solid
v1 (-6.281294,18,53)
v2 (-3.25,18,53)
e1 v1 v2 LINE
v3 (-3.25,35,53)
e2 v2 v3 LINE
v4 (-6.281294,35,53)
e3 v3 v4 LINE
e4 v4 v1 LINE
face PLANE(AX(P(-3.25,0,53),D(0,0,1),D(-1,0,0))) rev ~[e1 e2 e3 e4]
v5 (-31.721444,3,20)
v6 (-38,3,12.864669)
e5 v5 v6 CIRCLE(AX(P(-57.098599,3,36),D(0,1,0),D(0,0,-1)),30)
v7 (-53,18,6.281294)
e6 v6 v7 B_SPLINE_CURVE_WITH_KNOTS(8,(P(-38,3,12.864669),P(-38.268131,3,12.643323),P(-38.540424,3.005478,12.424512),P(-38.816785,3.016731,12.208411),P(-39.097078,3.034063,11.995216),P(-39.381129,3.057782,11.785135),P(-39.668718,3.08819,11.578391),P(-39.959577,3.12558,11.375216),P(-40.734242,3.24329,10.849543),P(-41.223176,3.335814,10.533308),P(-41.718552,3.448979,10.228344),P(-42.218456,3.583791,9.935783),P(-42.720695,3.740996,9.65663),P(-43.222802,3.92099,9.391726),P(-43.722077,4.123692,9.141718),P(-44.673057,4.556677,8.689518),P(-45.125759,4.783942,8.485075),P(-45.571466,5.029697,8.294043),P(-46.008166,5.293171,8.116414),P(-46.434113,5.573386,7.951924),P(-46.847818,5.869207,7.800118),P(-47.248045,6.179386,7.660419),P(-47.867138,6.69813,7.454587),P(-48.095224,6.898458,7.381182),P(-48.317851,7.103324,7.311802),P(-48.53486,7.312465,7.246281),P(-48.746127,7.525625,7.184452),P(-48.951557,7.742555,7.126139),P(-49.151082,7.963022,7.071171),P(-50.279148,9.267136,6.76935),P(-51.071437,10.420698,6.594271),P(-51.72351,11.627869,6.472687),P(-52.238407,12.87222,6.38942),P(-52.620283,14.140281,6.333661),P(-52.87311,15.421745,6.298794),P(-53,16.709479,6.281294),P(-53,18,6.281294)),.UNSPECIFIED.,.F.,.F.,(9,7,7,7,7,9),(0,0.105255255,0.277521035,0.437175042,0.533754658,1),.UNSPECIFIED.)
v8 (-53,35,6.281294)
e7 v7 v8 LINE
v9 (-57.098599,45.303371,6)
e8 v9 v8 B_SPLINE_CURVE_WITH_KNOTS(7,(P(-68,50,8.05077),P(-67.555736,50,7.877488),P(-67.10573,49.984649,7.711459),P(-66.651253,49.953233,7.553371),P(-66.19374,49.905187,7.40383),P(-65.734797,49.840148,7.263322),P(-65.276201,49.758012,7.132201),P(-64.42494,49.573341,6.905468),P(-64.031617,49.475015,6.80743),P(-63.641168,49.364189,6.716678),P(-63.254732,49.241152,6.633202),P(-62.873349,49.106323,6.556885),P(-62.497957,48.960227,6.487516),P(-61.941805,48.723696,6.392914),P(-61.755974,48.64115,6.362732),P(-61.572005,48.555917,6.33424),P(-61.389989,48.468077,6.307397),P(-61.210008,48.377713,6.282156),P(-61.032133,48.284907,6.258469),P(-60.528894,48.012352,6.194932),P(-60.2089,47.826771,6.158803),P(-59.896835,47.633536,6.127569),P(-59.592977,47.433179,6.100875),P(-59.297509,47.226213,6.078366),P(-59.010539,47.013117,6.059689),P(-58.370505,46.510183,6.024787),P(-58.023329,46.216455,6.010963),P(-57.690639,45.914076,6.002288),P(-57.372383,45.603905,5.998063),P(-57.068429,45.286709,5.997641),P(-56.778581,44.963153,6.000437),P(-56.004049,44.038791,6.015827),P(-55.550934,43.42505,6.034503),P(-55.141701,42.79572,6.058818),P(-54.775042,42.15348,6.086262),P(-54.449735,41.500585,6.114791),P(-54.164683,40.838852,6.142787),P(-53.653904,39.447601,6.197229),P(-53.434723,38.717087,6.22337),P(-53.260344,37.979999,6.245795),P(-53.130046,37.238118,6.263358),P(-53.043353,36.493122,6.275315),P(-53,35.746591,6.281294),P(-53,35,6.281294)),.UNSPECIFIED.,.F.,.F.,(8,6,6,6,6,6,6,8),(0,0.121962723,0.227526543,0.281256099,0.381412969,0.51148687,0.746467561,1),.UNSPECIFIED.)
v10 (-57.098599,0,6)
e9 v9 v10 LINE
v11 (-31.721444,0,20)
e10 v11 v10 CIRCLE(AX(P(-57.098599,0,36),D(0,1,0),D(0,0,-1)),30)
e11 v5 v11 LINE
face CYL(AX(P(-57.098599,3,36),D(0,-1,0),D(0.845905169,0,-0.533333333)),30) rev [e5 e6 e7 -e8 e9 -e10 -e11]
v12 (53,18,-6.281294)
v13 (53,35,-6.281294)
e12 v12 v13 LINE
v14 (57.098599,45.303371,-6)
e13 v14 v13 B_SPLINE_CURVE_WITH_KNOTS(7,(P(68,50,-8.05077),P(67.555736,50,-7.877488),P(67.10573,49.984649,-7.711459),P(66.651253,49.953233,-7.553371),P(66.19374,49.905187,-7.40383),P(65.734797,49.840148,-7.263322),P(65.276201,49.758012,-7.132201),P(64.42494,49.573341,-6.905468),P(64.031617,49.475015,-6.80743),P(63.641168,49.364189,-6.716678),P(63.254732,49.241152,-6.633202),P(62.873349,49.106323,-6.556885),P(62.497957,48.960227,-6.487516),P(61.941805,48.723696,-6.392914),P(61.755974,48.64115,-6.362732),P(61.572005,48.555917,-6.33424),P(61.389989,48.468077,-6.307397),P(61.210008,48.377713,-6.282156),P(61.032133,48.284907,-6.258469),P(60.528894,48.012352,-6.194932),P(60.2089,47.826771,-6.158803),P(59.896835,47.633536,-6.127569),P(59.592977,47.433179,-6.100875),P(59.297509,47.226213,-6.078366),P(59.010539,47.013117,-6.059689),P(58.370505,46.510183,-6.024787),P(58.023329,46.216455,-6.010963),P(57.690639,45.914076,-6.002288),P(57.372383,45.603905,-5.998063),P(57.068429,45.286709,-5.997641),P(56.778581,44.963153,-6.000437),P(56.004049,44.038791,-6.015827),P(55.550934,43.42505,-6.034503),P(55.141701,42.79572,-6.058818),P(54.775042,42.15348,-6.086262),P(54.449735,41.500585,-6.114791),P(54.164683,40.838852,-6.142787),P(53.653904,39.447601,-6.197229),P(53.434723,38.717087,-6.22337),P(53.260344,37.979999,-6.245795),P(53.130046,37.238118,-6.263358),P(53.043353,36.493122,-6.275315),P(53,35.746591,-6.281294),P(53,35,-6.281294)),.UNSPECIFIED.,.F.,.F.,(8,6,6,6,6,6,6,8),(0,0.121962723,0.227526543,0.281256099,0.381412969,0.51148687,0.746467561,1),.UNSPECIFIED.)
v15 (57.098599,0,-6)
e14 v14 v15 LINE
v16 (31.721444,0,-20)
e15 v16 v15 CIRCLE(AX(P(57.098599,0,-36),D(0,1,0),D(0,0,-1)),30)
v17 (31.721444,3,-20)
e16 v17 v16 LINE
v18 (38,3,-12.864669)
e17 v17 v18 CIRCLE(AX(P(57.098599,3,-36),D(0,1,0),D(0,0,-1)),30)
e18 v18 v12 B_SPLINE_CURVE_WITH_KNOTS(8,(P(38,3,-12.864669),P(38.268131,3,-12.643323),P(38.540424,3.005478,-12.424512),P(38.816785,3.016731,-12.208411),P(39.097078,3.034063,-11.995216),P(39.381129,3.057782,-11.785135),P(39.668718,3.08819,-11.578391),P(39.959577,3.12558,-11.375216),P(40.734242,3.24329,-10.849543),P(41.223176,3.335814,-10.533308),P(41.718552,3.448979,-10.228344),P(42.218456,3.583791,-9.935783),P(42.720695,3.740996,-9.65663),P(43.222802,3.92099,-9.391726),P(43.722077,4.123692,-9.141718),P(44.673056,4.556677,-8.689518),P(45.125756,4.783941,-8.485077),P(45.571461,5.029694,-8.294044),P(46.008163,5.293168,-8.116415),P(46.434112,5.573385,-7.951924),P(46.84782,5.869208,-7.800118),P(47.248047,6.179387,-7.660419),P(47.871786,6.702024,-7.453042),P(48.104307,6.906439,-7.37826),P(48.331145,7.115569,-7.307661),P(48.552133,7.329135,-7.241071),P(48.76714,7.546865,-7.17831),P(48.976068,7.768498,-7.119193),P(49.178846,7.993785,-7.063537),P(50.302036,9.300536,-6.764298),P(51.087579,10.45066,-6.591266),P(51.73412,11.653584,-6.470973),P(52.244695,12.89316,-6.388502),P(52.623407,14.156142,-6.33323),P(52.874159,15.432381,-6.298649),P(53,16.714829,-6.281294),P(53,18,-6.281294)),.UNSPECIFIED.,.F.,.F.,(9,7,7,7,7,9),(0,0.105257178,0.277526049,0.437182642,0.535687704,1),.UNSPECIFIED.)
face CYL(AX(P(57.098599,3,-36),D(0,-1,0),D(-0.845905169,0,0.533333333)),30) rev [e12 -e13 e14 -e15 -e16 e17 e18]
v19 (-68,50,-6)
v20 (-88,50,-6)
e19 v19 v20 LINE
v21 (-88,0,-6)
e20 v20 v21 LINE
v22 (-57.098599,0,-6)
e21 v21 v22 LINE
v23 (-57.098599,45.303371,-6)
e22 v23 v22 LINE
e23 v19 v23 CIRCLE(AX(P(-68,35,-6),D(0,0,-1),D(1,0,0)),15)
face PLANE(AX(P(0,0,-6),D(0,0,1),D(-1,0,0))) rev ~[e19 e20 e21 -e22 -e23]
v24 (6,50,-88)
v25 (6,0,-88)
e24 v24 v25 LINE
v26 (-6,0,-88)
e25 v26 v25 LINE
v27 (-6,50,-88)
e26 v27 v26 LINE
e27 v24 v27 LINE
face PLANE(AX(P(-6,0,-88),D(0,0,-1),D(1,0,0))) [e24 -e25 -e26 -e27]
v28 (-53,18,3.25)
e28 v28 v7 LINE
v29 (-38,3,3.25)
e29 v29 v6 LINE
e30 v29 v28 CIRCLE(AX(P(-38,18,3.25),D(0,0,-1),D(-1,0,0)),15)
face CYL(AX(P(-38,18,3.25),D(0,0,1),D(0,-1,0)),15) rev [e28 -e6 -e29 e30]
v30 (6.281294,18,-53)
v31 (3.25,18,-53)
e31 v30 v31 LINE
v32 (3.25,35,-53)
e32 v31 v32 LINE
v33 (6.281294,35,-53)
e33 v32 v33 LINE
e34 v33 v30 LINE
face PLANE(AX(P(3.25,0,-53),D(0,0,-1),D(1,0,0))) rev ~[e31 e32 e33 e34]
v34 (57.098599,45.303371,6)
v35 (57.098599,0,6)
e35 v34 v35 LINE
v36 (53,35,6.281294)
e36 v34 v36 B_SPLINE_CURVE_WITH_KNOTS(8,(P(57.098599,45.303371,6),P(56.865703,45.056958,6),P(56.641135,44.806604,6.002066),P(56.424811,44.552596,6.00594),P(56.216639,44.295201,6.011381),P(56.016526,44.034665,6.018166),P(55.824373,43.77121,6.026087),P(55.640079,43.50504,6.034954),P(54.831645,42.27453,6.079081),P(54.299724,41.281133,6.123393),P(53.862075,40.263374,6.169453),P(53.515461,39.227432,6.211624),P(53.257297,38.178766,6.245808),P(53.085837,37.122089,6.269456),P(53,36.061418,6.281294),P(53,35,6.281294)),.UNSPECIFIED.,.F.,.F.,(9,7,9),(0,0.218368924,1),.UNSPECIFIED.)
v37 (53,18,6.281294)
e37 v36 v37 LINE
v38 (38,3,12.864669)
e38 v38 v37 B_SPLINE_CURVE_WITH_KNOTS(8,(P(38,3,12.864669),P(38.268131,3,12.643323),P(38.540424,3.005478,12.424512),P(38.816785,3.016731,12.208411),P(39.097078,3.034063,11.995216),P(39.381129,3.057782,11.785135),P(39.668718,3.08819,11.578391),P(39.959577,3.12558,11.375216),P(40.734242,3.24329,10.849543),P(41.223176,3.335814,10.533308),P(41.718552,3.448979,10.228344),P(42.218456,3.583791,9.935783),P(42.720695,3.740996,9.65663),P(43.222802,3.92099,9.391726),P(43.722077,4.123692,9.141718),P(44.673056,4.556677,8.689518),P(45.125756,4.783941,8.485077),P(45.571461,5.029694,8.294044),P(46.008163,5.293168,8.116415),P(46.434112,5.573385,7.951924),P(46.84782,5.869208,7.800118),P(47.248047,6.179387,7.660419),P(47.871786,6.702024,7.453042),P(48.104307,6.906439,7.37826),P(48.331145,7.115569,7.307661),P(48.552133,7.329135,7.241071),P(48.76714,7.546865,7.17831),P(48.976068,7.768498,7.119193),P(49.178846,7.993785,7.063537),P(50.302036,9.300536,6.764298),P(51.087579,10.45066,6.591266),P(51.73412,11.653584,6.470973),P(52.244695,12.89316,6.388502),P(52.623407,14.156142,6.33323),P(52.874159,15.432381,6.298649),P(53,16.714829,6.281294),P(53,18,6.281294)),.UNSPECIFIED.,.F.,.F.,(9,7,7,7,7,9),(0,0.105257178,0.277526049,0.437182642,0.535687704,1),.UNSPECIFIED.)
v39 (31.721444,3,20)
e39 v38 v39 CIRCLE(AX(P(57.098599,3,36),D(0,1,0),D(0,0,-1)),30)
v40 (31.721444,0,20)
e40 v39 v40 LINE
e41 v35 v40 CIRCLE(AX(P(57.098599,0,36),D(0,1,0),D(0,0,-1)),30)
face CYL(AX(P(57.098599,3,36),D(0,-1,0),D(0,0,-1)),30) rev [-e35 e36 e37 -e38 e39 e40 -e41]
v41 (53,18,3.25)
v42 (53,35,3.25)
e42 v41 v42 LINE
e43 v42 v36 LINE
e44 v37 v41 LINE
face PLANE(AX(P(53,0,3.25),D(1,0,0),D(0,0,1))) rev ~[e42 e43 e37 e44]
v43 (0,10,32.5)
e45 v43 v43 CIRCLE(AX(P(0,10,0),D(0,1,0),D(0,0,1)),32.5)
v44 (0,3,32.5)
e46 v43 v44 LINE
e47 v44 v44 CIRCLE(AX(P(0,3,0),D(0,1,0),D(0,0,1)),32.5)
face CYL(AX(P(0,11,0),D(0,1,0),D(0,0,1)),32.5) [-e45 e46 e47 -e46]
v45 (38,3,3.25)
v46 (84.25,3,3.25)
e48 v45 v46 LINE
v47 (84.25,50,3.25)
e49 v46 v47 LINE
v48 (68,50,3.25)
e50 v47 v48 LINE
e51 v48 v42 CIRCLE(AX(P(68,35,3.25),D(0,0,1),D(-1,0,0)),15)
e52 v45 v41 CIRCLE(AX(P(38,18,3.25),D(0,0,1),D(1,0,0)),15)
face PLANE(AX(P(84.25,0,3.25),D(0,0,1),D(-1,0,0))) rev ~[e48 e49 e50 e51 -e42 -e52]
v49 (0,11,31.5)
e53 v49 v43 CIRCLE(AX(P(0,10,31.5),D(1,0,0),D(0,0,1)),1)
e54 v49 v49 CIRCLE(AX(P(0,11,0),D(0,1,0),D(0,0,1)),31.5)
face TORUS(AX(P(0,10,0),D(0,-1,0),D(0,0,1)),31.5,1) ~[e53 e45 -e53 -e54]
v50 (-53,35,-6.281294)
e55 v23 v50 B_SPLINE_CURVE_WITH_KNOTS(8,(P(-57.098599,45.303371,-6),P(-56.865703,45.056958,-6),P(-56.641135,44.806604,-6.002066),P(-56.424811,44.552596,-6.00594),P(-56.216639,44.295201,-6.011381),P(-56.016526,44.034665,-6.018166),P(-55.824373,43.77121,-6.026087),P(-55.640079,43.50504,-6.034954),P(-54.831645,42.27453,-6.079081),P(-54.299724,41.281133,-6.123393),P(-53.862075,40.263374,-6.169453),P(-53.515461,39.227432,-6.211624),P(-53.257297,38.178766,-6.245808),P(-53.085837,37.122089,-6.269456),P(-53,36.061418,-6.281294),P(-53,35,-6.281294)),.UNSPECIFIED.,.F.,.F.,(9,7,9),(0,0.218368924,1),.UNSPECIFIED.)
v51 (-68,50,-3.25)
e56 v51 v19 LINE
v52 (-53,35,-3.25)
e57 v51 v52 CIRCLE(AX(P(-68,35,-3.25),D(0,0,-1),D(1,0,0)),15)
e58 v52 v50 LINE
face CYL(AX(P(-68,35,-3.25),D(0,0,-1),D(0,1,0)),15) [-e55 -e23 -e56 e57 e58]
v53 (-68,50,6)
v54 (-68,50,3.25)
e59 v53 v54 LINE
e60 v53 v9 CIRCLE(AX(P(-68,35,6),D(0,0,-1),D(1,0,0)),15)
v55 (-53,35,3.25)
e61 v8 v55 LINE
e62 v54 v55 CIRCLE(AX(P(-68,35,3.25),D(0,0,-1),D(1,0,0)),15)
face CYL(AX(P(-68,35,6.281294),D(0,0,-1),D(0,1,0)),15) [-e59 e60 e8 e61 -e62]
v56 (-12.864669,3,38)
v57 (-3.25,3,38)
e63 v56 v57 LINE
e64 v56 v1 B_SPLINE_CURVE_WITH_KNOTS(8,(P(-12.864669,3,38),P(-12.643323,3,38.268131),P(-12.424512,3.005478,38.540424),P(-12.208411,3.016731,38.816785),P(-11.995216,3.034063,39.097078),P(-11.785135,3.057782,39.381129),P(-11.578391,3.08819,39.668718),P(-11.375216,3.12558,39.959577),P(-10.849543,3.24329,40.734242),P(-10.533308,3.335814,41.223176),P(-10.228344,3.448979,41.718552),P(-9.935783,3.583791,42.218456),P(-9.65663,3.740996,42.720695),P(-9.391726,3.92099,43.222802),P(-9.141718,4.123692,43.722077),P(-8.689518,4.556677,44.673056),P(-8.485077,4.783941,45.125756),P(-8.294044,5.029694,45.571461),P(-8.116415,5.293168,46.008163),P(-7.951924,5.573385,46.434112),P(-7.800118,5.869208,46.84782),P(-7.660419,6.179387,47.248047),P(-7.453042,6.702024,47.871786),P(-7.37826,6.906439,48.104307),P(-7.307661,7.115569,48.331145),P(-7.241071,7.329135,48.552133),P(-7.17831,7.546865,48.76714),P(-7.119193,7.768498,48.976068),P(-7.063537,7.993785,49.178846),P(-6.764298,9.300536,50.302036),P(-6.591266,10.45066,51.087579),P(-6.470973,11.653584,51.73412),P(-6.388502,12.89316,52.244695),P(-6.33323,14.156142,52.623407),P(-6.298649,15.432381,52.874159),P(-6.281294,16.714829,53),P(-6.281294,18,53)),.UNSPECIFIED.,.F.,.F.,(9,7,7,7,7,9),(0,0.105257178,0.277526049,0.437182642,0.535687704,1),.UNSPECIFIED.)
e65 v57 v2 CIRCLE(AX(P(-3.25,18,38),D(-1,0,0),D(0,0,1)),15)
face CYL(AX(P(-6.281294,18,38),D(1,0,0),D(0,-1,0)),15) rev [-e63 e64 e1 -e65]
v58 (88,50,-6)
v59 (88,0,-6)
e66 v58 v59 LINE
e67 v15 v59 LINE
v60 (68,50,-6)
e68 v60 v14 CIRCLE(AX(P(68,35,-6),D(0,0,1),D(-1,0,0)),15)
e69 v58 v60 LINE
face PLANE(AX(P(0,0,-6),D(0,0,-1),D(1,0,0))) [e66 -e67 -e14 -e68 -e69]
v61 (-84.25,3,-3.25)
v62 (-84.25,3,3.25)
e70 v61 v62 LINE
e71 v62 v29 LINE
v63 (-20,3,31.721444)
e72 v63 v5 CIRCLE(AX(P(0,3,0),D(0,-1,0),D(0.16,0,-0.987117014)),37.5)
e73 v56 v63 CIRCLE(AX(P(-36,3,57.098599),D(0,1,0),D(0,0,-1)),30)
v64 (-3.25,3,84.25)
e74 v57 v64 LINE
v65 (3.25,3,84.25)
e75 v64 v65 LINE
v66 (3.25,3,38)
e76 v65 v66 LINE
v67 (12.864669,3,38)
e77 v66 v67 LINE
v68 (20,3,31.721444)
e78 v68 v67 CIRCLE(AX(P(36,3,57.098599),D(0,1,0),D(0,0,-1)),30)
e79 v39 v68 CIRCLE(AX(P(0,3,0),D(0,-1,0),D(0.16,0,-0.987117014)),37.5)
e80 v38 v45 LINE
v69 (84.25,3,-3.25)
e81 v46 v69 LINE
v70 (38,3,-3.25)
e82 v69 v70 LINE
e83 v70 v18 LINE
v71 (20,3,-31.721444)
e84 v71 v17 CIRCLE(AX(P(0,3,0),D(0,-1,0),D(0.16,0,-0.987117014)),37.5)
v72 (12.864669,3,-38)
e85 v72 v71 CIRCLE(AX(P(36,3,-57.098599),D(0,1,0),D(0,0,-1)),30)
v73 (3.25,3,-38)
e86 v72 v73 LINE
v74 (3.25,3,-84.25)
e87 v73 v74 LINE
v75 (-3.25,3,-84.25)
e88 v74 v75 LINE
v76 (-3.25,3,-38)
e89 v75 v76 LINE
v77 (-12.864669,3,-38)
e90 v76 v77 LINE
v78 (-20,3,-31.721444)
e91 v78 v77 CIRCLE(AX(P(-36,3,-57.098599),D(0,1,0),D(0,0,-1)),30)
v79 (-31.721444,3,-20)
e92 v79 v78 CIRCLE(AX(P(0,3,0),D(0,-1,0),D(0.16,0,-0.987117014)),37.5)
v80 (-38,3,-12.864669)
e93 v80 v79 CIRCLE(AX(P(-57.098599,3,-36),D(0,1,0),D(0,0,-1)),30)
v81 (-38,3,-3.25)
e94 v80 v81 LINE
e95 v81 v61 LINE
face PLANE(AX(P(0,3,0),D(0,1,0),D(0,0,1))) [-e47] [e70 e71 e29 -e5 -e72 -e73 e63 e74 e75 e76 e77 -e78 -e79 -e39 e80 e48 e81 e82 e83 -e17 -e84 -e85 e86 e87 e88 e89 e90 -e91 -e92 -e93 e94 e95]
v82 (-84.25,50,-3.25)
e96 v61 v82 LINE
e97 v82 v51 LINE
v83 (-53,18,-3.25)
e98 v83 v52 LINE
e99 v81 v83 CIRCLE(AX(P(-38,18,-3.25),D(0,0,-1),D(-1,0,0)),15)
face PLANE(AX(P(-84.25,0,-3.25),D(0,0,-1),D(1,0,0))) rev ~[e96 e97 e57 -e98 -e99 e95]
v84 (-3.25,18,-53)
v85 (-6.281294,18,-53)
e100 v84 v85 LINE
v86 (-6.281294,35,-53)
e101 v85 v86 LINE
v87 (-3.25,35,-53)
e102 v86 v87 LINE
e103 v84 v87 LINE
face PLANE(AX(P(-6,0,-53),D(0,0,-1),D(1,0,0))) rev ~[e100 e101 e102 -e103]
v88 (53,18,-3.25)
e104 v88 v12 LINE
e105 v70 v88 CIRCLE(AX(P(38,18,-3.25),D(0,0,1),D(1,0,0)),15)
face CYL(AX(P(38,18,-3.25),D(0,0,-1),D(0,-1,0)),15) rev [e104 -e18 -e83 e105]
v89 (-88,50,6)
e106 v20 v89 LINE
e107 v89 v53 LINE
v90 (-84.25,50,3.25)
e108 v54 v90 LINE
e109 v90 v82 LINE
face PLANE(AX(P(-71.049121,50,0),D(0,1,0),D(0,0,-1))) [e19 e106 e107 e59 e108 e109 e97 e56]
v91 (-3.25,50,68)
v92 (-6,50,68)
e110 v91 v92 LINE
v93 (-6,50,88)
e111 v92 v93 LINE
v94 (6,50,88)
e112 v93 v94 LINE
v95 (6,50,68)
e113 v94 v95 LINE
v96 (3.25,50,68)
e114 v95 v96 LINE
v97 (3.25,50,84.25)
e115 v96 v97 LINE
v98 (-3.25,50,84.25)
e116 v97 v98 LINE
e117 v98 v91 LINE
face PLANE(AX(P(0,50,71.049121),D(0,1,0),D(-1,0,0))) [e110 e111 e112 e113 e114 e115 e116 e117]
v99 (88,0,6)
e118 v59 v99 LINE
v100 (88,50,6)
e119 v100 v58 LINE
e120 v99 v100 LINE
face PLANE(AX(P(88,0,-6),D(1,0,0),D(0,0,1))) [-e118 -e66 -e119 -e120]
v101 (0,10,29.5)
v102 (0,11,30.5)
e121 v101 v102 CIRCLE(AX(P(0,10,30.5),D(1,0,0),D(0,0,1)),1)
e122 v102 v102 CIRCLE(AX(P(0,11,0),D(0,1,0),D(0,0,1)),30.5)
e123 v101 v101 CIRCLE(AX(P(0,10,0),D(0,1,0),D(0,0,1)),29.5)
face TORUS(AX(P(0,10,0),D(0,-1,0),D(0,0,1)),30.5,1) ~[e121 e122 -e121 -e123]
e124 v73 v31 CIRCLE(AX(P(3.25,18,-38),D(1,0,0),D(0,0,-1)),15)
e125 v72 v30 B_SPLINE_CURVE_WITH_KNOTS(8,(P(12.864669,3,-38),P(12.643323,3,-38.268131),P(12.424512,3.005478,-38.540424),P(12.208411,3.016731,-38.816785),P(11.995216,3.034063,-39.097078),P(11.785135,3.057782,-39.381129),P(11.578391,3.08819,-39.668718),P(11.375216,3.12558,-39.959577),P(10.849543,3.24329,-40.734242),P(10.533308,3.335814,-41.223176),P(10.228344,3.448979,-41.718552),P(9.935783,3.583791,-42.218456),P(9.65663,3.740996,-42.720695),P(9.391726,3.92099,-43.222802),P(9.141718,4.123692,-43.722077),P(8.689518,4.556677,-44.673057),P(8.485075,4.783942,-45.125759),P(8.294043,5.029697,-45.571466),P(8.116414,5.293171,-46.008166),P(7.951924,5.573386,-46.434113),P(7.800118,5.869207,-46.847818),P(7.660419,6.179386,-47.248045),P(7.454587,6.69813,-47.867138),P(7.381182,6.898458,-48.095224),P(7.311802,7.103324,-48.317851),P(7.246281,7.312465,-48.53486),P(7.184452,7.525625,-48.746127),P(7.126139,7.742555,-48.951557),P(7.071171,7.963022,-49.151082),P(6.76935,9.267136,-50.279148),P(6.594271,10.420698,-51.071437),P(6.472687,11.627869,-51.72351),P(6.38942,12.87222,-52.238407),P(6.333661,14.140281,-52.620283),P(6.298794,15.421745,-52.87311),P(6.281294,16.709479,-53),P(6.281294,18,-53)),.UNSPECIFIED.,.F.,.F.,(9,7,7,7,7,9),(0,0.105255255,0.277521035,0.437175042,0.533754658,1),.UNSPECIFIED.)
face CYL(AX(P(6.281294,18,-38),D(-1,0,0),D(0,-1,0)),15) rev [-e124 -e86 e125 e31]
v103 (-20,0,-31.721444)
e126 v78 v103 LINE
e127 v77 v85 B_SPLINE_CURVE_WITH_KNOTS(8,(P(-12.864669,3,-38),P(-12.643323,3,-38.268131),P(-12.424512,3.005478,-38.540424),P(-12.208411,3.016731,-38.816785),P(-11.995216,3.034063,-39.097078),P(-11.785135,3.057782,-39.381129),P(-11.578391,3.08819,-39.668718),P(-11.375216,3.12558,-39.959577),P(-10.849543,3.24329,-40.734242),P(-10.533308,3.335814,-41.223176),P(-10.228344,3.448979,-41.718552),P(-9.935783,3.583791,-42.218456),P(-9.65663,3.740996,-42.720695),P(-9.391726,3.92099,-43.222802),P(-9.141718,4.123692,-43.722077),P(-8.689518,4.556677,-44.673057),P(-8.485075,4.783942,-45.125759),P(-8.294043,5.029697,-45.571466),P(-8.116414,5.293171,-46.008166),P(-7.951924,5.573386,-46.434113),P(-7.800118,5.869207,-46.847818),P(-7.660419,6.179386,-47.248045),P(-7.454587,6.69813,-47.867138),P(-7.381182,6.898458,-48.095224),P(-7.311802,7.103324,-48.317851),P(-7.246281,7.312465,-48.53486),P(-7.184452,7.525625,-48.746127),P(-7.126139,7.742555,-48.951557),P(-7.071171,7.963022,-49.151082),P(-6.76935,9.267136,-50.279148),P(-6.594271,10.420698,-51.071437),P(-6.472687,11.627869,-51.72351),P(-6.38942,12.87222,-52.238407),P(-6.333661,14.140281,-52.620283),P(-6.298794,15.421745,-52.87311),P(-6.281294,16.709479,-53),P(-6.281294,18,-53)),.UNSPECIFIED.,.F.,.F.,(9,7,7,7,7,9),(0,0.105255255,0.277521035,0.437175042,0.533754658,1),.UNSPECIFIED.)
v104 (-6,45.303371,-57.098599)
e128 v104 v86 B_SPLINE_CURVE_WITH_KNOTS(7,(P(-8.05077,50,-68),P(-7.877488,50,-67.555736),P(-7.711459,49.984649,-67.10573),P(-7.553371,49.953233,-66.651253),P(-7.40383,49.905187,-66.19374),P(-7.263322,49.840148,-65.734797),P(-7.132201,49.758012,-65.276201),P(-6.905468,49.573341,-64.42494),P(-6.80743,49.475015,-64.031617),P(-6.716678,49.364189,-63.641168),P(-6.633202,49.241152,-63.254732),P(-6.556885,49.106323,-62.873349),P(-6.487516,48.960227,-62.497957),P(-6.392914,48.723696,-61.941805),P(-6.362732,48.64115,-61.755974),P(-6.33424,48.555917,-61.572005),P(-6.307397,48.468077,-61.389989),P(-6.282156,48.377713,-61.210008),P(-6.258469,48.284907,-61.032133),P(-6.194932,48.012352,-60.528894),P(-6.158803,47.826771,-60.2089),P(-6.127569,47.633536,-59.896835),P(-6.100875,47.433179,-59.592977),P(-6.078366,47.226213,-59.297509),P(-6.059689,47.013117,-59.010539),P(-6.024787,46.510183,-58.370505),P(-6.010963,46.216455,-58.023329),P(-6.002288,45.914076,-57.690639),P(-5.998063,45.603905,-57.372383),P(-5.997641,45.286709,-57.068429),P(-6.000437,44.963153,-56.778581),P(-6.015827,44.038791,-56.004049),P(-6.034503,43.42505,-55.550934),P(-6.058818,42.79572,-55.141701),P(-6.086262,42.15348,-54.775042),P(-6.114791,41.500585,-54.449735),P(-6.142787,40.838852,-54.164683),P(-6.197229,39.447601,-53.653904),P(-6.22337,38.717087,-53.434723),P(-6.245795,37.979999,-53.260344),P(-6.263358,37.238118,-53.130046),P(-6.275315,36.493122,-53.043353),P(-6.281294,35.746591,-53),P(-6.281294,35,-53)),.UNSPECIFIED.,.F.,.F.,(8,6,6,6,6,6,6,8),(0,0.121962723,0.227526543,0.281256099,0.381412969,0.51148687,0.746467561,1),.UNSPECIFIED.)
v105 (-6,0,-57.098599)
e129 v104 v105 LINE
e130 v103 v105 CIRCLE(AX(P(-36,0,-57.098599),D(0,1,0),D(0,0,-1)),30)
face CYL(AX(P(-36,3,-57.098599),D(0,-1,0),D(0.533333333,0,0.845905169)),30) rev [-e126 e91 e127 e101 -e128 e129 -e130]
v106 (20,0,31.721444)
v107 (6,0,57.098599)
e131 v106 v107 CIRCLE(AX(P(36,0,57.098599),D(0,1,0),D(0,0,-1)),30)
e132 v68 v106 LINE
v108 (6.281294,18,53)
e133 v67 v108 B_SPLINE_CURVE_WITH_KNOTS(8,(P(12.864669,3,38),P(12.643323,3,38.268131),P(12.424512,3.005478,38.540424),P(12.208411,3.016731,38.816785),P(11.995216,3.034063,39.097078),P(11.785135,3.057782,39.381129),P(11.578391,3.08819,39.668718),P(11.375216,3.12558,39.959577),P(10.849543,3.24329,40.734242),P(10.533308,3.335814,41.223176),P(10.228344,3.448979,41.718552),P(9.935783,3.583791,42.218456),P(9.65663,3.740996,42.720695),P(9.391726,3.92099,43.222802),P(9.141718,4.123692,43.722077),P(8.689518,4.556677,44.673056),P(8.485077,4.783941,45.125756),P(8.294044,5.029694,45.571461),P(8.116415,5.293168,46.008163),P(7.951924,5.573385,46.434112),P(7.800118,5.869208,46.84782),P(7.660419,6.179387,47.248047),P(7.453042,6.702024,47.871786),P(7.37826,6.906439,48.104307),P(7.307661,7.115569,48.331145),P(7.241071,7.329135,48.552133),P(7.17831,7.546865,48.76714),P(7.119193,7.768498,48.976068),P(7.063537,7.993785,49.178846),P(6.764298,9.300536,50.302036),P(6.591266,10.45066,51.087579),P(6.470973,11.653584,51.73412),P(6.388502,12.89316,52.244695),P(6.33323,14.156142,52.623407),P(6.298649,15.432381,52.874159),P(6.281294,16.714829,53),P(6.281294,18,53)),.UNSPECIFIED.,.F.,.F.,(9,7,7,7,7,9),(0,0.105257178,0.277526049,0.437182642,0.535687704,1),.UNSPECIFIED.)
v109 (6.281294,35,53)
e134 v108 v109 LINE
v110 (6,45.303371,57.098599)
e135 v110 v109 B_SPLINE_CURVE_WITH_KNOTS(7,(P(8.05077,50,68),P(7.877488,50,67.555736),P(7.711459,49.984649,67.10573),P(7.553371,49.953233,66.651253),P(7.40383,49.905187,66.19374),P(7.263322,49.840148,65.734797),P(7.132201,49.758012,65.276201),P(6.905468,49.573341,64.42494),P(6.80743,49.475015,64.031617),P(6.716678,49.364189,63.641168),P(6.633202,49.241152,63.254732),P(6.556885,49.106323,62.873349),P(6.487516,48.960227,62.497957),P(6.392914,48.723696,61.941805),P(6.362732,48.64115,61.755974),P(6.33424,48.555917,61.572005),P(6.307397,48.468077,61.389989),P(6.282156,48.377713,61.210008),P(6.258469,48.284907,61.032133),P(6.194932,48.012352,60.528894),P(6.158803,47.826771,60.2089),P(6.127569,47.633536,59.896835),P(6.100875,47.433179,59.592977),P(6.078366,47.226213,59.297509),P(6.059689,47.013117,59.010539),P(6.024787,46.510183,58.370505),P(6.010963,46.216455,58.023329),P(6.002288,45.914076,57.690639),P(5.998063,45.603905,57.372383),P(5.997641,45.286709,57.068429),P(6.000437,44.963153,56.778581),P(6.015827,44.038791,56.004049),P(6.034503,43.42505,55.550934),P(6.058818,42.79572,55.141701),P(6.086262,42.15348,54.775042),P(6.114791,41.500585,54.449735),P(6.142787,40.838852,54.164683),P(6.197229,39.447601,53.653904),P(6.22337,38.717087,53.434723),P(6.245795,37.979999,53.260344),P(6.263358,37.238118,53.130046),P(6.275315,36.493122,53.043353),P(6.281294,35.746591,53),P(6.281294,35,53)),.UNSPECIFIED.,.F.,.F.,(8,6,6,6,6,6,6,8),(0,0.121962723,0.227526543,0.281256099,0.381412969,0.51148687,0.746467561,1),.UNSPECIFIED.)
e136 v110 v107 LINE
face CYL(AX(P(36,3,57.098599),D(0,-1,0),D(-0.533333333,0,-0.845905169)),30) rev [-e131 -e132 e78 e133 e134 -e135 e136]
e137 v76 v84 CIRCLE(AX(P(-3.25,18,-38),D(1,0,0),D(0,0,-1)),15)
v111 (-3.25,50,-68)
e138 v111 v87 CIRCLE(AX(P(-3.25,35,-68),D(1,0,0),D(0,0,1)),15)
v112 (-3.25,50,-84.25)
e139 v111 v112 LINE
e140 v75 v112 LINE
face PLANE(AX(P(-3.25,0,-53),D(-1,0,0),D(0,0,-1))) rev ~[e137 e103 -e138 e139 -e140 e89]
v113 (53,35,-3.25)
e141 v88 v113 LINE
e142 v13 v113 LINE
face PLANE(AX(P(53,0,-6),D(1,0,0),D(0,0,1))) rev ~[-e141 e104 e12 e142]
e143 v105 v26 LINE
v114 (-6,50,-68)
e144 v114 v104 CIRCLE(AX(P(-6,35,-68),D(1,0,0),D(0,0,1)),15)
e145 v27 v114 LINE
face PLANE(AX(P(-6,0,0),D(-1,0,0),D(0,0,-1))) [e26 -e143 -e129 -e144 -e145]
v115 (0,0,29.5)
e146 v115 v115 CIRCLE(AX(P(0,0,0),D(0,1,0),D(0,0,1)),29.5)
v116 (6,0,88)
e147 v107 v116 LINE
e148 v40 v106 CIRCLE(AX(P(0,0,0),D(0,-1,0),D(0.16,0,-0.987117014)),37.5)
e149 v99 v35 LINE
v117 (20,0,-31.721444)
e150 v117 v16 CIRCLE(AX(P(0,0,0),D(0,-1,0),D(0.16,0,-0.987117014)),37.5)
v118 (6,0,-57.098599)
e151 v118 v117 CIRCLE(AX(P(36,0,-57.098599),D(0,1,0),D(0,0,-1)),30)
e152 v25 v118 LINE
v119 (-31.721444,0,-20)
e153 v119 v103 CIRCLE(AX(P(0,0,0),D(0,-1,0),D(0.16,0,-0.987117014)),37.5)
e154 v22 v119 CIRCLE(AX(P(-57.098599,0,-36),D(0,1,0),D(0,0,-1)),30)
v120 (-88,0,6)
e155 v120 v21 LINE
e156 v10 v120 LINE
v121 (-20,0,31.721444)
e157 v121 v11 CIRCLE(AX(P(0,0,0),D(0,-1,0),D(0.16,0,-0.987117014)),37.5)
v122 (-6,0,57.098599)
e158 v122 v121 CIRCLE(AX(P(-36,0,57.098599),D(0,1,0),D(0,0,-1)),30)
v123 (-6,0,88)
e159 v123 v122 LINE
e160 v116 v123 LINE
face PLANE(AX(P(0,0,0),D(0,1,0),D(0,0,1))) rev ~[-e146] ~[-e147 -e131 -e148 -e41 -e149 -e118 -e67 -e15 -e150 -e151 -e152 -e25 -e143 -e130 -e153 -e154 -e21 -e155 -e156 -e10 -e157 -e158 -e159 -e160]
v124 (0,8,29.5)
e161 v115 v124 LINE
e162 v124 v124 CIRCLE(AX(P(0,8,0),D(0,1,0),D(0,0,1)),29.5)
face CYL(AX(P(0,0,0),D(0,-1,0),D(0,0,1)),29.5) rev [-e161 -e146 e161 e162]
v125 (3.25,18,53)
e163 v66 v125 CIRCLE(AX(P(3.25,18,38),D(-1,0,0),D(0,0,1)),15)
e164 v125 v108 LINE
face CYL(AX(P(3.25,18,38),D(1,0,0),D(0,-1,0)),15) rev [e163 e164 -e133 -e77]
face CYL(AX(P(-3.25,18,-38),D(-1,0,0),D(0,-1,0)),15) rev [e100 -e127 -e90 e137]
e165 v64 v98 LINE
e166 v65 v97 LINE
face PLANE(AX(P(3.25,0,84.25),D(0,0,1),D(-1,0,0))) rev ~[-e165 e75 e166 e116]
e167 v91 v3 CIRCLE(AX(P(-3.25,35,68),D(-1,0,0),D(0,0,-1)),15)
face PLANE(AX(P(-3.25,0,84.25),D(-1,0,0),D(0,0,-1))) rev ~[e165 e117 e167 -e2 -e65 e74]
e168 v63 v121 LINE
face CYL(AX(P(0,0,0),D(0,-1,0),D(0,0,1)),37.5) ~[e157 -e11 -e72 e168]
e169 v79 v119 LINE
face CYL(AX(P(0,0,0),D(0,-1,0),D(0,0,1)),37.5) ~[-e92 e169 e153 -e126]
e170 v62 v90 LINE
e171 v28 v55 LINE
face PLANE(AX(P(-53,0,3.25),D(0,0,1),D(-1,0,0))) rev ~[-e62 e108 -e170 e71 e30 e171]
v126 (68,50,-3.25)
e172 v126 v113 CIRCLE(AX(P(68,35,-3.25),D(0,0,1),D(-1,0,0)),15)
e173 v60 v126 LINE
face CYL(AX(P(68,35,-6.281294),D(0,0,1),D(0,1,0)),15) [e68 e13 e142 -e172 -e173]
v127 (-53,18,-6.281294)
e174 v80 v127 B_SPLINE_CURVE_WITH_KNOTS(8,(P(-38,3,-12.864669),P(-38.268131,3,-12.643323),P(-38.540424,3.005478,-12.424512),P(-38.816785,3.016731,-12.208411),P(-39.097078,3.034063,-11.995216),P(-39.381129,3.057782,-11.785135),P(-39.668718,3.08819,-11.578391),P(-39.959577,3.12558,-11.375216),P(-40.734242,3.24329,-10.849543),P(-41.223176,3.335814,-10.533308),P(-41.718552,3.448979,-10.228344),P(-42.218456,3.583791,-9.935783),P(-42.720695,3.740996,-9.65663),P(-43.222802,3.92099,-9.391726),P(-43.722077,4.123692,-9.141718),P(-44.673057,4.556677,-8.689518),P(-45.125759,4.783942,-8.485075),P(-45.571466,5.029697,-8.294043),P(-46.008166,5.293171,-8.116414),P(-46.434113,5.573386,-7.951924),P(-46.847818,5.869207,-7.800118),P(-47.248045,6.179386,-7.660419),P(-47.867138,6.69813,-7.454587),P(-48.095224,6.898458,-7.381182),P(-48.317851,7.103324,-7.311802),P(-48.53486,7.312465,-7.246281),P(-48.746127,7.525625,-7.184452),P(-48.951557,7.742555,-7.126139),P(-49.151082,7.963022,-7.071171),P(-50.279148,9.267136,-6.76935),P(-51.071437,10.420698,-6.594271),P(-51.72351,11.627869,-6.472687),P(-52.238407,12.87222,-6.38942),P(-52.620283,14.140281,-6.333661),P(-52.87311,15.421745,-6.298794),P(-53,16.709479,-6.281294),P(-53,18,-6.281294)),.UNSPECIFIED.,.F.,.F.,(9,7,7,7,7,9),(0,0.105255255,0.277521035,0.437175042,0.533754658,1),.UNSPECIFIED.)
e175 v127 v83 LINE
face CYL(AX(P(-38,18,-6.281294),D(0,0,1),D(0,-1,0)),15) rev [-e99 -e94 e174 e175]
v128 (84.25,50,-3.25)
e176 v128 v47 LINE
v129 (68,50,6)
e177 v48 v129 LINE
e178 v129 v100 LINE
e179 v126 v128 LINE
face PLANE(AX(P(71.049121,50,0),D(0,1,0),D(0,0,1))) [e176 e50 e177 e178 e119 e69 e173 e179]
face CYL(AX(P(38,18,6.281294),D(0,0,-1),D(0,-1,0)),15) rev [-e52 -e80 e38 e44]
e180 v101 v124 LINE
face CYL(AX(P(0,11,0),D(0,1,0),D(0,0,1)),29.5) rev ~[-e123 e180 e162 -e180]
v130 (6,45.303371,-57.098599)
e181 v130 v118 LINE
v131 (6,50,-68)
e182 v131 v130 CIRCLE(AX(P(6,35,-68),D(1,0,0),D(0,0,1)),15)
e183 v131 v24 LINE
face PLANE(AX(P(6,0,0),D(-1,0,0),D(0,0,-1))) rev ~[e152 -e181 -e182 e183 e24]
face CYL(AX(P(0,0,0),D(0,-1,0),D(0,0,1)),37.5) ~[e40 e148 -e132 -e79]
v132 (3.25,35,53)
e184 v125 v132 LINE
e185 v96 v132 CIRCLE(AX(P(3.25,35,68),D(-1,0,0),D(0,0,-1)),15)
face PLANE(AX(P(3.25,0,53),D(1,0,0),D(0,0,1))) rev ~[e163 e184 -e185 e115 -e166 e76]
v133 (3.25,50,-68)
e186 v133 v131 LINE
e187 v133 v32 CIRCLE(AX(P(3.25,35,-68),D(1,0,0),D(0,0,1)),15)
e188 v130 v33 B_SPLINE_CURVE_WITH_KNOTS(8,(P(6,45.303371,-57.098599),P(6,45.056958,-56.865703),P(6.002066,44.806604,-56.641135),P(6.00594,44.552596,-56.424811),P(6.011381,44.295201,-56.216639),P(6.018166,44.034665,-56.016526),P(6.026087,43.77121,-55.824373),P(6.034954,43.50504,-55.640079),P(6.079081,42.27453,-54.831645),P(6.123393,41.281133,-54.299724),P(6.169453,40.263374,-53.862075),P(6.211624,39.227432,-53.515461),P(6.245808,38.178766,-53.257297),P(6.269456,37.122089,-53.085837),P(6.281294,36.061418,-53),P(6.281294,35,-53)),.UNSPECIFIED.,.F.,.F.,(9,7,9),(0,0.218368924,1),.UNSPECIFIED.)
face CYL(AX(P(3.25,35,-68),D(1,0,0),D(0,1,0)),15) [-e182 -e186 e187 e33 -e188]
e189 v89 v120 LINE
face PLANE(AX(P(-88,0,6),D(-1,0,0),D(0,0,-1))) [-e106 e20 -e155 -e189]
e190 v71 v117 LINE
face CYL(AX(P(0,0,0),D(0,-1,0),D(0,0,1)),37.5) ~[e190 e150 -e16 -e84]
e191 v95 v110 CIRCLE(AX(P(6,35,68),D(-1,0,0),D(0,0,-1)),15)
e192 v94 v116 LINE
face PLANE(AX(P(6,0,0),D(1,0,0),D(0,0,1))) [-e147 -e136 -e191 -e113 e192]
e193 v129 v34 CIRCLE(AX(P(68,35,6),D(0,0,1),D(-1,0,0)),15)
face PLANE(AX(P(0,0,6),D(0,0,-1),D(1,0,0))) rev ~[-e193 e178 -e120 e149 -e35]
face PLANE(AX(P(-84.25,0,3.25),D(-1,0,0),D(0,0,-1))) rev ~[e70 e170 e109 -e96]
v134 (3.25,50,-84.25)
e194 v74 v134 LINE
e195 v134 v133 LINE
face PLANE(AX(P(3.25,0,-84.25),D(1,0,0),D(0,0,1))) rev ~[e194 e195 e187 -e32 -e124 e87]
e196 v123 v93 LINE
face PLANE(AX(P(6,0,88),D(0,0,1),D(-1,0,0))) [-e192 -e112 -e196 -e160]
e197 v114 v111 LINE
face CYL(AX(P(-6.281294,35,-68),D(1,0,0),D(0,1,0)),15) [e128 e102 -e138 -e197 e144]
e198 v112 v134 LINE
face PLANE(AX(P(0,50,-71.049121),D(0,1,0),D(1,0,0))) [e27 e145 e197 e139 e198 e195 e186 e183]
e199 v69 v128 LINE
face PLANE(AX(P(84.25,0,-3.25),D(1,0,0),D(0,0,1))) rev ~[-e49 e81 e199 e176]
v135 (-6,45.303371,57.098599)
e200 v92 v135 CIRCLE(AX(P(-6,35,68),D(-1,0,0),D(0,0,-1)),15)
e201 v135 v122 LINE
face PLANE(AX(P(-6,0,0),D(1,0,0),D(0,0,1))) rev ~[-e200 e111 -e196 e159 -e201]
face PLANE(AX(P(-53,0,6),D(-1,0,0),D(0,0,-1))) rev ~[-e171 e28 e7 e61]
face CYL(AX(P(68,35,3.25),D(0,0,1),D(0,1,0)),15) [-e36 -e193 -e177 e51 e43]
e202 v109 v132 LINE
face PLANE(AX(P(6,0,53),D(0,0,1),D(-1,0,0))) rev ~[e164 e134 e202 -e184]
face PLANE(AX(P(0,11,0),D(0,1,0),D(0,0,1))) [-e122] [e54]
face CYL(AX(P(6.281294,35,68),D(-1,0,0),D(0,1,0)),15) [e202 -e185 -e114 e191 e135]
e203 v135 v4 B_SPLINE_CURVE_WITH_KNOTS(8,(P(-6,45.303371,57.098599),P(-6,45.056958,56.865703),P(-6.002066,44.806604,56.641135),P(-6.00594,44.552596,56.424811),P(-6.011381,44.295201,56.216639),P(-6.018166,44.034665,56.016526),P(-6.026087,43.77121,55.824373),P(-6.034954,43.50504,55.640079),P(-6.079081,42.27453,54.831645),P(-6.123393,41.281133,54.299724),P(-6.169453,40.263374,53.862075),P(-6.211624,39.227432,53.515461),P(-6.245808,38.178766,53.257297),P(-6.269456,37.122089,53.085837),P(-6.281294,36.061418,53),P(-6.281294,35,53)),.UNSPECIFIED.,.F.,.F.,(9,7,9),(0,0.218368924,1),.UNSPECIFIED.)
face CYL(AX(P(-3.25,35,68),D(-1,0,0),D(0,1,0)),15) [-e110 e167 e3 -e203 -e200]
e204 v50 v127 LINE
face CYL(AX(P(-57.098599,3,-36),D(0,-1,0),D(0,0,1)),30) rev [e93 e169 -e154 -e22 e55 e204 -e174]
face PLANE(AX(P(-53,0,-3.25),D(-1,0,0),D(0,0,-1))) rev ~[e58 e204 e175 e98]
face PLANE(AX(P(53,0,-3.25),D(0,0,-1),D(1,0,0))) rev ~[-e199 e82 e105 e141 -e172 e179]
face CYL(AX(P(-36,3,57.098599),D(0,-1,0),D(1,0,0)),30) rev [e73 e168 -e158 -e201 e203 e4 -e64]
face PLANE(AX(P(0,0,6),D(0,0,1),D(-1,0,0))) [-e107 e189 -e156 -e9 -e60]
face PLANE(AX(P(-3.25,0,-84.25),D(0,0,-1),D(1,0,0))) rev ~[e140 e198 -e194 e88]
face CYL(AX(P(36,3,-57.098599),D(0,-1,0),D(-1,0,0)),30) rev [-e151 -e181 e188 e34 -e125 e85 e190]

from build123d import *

# Parameters (mm, degrees)
SKETCH1_R                = 37.5
BASE_DEPTH               = 3
SKETCH2_W                = 12
SKETCH2_H                = 88
FIN_EXTENSION_BASE_DEPTH = 3
FIN_CRADDLE_DEPTH        = 50
FILLET2_R                = 30
FILLET1_R                = 15
CIRPATTERN1_COUNT        = 4
FILLET2_OF_CIRPATTERN1_R = 30
FILLET1_OF_CIRPATTERN1_R = 15
BOSS_EXTRUDE5_REACH      = 132.419
SKETCH4_R                = 32.5
SKETCH4_R_2              = 29.5
FILLET3_R                = 5
FILLET4_R                = 1
SKETCH5_R                = 29.5
CUT_EXTRUDE1_DEPTH       = 135.119349872


with BuildPart() as part:
    # Sketch1 → BASE (new body)
    with BuildSketch(Plane(origin=(0, 0, 0), x_dir=(1, 0, 0), z_dir=(0, 1, 0))):
        with Locations(Location((0, 0, 0), (0, 0, 270))):
            Circle(SKETCH1_R)
    extrude(amount=BASE_DEPTH)

    # Sketch2 → FIN EXTENSION BASE (add)
    with BuildSketch(Plane(origin=(0, 0, 0), x_dir=(1, 0, 0), z_dir=(0, 1, 0))):
        with Locations((0, 44)):
            Rectangle(SKETCH2_W, SKETCH2_H)
    fin_extension_base = extrude(amount=FIN_EXTENSION_BASE_DEPTH)

    # Sketch3 → FIN CRADDLE (add)
    with BuildSketch(Plane(origin=(0, 0, 0), x_dir=(1, 0, 0), z_dir=(0, 1, 0))):
        Polygon((-6, 53), (-3.25, 53), (-3.25, 84.25), (3.25, 84.25), (3.25, 53), (6, 53), (6, 88), (-6, 88), align=None)
    fin_craddle = extrude(amount=FIN_CRADDLE_DEPTH)

    # Fillet2
    fillet2_edges = [part.edges().sort_by_distance(p)[0] for p in [
        (6, 1.5, -37.016888038),
        (-6, 1.5, -37.016888038),
    ]]
    fillet(fillet2_edges, radius=FILLET2_R)

    # Fillet1
    fillet1_edges = [part.edges().sort_by_distance(p)[0] for p in [
        (-4.765646996, 50, -53),
        (4.765646996, 50, -53),
        (-4.765646996, 3, -53),
        (4.765646996, 3, -53),
    ]]
    fillet(fillet1_edges, radius=FILLET1_R)

    # CirPattern1: FIN EXTENSION BASE, FIN CRADDLE ×4 about axis
    cirpattern1_axis = Axis((0, 0, 0), (0, 1, 0))
    add([fin_extension_base.rotate(cirpattern1_axis, i * 360 / CIRPATTERN1_COUNT) for i in range(1, CIRPATTERN1_COUNT)])
    add([fin_craddle.rotate(cirpattern1_axis, i * 360 / CIRPATTERN1_COUNT) for i in range(1, CIRPATTERN1_COUNT)])

    # Fillet2 of CirPattern1
    fillet2_of_cirpattern1_edges = [part.edges().sort_by_distance(p)[0] for p in [
        (-37.016888038, 1.5, -6),
        (-37.016888038, 1.5, 6),
        (-6, 1.5, 37.016888038),
        (6, 1.5, 37.016888038),
        (37.016888038, 1.5, 6),
        (37.016888038, 1.5, -6),
    ]]
    fillet(fillet2_of_cirpattern1_edges, radius=FILLET2_OF_CIRPATTERN1_R)

    # Fillet1 of CirPattern1
    fillet1_of_cirpattern1_edges = [part.edges().sort_by_distance(p)[0] for p in [
        (-53, 50, 4.765646996),
        (-53, 50, -4.765646996),
        (-53, 3, 4.765646996),
        (-53, 3, -4.765646996),
        (4.765646996, 50, 53),
        (-4.765646996, 50, 53),
        (4.765646996, 3, 53),
        (-4.765646996, 3, 53),
        (53, 50, -4.765646996),
        (53, 50, 4.765646996),
        (53, 3, -4.765646996),
        (53, 3, 4.765646996),
    ]]
    fillet(fillet1_of_cirpattern1_edges, radius=FILLET1_OF_CIRPATTERN1_R)

    # Sketch4 → Boss-Extrude5 (add, up to next)
    with BuildSketch(Plane(origin=(0, 11, 0), x_dir=(1, 0, 0), z_dir=(0, 1, 0)), mode=Mode.PRIVATE) as boss_extrude5_sk1:
        with Locations(Location((0, 0, 0), (0, 0, 270))):
            Circle(SKETCH4_R)
        with Locations(Location((0, 0, 0), (0, 0, 270))):
            Circle(SKETCH4_R_2, mode=Mode.SUBTRACT)
    boss_extrude5_tool1 = extrude(boss_extrude5_sk1.sketch, amount=-BOSS_EXTRUDE5_REACH, mode=Mode.PRIVATE) - part.part
    add(boss_extrude5_tool1.solids().sort_by_distance((0, 11, -31.580761))[0])

    # Fillet3
    fillet3_edges = [part.edges().sort_by_distance(p)[0] for p in [
        (0, 3, -29.5),
    ]]
    fillet(fillet3_edges, radius=FILLET3_R)

    # Fillet4
    fillet4_edges = [part.edges().sort_by_distance(p)[0] for p in [
        (0, 11, -32.5),
        (0, 11, -29.5),
    ]]
    fillet(fillet4_edges, radius=FILLET4_R)

    # Sketch5 → Cut-Extrude1 (cut, through all)
    with BuildSketch(Plane(origin=(0, 0, 0), x_dir=(1, 0, 0), z_dir=(0, 1, 0))):
        with Locations(Location((0, 0, 0), (0, 0, 270))):
            Circle(SKETCH5_R)
    extrude(amount=CUT_EXTRUDE1_DEPTH, mode=Mode.SUBTRACT)


solid = part.part
